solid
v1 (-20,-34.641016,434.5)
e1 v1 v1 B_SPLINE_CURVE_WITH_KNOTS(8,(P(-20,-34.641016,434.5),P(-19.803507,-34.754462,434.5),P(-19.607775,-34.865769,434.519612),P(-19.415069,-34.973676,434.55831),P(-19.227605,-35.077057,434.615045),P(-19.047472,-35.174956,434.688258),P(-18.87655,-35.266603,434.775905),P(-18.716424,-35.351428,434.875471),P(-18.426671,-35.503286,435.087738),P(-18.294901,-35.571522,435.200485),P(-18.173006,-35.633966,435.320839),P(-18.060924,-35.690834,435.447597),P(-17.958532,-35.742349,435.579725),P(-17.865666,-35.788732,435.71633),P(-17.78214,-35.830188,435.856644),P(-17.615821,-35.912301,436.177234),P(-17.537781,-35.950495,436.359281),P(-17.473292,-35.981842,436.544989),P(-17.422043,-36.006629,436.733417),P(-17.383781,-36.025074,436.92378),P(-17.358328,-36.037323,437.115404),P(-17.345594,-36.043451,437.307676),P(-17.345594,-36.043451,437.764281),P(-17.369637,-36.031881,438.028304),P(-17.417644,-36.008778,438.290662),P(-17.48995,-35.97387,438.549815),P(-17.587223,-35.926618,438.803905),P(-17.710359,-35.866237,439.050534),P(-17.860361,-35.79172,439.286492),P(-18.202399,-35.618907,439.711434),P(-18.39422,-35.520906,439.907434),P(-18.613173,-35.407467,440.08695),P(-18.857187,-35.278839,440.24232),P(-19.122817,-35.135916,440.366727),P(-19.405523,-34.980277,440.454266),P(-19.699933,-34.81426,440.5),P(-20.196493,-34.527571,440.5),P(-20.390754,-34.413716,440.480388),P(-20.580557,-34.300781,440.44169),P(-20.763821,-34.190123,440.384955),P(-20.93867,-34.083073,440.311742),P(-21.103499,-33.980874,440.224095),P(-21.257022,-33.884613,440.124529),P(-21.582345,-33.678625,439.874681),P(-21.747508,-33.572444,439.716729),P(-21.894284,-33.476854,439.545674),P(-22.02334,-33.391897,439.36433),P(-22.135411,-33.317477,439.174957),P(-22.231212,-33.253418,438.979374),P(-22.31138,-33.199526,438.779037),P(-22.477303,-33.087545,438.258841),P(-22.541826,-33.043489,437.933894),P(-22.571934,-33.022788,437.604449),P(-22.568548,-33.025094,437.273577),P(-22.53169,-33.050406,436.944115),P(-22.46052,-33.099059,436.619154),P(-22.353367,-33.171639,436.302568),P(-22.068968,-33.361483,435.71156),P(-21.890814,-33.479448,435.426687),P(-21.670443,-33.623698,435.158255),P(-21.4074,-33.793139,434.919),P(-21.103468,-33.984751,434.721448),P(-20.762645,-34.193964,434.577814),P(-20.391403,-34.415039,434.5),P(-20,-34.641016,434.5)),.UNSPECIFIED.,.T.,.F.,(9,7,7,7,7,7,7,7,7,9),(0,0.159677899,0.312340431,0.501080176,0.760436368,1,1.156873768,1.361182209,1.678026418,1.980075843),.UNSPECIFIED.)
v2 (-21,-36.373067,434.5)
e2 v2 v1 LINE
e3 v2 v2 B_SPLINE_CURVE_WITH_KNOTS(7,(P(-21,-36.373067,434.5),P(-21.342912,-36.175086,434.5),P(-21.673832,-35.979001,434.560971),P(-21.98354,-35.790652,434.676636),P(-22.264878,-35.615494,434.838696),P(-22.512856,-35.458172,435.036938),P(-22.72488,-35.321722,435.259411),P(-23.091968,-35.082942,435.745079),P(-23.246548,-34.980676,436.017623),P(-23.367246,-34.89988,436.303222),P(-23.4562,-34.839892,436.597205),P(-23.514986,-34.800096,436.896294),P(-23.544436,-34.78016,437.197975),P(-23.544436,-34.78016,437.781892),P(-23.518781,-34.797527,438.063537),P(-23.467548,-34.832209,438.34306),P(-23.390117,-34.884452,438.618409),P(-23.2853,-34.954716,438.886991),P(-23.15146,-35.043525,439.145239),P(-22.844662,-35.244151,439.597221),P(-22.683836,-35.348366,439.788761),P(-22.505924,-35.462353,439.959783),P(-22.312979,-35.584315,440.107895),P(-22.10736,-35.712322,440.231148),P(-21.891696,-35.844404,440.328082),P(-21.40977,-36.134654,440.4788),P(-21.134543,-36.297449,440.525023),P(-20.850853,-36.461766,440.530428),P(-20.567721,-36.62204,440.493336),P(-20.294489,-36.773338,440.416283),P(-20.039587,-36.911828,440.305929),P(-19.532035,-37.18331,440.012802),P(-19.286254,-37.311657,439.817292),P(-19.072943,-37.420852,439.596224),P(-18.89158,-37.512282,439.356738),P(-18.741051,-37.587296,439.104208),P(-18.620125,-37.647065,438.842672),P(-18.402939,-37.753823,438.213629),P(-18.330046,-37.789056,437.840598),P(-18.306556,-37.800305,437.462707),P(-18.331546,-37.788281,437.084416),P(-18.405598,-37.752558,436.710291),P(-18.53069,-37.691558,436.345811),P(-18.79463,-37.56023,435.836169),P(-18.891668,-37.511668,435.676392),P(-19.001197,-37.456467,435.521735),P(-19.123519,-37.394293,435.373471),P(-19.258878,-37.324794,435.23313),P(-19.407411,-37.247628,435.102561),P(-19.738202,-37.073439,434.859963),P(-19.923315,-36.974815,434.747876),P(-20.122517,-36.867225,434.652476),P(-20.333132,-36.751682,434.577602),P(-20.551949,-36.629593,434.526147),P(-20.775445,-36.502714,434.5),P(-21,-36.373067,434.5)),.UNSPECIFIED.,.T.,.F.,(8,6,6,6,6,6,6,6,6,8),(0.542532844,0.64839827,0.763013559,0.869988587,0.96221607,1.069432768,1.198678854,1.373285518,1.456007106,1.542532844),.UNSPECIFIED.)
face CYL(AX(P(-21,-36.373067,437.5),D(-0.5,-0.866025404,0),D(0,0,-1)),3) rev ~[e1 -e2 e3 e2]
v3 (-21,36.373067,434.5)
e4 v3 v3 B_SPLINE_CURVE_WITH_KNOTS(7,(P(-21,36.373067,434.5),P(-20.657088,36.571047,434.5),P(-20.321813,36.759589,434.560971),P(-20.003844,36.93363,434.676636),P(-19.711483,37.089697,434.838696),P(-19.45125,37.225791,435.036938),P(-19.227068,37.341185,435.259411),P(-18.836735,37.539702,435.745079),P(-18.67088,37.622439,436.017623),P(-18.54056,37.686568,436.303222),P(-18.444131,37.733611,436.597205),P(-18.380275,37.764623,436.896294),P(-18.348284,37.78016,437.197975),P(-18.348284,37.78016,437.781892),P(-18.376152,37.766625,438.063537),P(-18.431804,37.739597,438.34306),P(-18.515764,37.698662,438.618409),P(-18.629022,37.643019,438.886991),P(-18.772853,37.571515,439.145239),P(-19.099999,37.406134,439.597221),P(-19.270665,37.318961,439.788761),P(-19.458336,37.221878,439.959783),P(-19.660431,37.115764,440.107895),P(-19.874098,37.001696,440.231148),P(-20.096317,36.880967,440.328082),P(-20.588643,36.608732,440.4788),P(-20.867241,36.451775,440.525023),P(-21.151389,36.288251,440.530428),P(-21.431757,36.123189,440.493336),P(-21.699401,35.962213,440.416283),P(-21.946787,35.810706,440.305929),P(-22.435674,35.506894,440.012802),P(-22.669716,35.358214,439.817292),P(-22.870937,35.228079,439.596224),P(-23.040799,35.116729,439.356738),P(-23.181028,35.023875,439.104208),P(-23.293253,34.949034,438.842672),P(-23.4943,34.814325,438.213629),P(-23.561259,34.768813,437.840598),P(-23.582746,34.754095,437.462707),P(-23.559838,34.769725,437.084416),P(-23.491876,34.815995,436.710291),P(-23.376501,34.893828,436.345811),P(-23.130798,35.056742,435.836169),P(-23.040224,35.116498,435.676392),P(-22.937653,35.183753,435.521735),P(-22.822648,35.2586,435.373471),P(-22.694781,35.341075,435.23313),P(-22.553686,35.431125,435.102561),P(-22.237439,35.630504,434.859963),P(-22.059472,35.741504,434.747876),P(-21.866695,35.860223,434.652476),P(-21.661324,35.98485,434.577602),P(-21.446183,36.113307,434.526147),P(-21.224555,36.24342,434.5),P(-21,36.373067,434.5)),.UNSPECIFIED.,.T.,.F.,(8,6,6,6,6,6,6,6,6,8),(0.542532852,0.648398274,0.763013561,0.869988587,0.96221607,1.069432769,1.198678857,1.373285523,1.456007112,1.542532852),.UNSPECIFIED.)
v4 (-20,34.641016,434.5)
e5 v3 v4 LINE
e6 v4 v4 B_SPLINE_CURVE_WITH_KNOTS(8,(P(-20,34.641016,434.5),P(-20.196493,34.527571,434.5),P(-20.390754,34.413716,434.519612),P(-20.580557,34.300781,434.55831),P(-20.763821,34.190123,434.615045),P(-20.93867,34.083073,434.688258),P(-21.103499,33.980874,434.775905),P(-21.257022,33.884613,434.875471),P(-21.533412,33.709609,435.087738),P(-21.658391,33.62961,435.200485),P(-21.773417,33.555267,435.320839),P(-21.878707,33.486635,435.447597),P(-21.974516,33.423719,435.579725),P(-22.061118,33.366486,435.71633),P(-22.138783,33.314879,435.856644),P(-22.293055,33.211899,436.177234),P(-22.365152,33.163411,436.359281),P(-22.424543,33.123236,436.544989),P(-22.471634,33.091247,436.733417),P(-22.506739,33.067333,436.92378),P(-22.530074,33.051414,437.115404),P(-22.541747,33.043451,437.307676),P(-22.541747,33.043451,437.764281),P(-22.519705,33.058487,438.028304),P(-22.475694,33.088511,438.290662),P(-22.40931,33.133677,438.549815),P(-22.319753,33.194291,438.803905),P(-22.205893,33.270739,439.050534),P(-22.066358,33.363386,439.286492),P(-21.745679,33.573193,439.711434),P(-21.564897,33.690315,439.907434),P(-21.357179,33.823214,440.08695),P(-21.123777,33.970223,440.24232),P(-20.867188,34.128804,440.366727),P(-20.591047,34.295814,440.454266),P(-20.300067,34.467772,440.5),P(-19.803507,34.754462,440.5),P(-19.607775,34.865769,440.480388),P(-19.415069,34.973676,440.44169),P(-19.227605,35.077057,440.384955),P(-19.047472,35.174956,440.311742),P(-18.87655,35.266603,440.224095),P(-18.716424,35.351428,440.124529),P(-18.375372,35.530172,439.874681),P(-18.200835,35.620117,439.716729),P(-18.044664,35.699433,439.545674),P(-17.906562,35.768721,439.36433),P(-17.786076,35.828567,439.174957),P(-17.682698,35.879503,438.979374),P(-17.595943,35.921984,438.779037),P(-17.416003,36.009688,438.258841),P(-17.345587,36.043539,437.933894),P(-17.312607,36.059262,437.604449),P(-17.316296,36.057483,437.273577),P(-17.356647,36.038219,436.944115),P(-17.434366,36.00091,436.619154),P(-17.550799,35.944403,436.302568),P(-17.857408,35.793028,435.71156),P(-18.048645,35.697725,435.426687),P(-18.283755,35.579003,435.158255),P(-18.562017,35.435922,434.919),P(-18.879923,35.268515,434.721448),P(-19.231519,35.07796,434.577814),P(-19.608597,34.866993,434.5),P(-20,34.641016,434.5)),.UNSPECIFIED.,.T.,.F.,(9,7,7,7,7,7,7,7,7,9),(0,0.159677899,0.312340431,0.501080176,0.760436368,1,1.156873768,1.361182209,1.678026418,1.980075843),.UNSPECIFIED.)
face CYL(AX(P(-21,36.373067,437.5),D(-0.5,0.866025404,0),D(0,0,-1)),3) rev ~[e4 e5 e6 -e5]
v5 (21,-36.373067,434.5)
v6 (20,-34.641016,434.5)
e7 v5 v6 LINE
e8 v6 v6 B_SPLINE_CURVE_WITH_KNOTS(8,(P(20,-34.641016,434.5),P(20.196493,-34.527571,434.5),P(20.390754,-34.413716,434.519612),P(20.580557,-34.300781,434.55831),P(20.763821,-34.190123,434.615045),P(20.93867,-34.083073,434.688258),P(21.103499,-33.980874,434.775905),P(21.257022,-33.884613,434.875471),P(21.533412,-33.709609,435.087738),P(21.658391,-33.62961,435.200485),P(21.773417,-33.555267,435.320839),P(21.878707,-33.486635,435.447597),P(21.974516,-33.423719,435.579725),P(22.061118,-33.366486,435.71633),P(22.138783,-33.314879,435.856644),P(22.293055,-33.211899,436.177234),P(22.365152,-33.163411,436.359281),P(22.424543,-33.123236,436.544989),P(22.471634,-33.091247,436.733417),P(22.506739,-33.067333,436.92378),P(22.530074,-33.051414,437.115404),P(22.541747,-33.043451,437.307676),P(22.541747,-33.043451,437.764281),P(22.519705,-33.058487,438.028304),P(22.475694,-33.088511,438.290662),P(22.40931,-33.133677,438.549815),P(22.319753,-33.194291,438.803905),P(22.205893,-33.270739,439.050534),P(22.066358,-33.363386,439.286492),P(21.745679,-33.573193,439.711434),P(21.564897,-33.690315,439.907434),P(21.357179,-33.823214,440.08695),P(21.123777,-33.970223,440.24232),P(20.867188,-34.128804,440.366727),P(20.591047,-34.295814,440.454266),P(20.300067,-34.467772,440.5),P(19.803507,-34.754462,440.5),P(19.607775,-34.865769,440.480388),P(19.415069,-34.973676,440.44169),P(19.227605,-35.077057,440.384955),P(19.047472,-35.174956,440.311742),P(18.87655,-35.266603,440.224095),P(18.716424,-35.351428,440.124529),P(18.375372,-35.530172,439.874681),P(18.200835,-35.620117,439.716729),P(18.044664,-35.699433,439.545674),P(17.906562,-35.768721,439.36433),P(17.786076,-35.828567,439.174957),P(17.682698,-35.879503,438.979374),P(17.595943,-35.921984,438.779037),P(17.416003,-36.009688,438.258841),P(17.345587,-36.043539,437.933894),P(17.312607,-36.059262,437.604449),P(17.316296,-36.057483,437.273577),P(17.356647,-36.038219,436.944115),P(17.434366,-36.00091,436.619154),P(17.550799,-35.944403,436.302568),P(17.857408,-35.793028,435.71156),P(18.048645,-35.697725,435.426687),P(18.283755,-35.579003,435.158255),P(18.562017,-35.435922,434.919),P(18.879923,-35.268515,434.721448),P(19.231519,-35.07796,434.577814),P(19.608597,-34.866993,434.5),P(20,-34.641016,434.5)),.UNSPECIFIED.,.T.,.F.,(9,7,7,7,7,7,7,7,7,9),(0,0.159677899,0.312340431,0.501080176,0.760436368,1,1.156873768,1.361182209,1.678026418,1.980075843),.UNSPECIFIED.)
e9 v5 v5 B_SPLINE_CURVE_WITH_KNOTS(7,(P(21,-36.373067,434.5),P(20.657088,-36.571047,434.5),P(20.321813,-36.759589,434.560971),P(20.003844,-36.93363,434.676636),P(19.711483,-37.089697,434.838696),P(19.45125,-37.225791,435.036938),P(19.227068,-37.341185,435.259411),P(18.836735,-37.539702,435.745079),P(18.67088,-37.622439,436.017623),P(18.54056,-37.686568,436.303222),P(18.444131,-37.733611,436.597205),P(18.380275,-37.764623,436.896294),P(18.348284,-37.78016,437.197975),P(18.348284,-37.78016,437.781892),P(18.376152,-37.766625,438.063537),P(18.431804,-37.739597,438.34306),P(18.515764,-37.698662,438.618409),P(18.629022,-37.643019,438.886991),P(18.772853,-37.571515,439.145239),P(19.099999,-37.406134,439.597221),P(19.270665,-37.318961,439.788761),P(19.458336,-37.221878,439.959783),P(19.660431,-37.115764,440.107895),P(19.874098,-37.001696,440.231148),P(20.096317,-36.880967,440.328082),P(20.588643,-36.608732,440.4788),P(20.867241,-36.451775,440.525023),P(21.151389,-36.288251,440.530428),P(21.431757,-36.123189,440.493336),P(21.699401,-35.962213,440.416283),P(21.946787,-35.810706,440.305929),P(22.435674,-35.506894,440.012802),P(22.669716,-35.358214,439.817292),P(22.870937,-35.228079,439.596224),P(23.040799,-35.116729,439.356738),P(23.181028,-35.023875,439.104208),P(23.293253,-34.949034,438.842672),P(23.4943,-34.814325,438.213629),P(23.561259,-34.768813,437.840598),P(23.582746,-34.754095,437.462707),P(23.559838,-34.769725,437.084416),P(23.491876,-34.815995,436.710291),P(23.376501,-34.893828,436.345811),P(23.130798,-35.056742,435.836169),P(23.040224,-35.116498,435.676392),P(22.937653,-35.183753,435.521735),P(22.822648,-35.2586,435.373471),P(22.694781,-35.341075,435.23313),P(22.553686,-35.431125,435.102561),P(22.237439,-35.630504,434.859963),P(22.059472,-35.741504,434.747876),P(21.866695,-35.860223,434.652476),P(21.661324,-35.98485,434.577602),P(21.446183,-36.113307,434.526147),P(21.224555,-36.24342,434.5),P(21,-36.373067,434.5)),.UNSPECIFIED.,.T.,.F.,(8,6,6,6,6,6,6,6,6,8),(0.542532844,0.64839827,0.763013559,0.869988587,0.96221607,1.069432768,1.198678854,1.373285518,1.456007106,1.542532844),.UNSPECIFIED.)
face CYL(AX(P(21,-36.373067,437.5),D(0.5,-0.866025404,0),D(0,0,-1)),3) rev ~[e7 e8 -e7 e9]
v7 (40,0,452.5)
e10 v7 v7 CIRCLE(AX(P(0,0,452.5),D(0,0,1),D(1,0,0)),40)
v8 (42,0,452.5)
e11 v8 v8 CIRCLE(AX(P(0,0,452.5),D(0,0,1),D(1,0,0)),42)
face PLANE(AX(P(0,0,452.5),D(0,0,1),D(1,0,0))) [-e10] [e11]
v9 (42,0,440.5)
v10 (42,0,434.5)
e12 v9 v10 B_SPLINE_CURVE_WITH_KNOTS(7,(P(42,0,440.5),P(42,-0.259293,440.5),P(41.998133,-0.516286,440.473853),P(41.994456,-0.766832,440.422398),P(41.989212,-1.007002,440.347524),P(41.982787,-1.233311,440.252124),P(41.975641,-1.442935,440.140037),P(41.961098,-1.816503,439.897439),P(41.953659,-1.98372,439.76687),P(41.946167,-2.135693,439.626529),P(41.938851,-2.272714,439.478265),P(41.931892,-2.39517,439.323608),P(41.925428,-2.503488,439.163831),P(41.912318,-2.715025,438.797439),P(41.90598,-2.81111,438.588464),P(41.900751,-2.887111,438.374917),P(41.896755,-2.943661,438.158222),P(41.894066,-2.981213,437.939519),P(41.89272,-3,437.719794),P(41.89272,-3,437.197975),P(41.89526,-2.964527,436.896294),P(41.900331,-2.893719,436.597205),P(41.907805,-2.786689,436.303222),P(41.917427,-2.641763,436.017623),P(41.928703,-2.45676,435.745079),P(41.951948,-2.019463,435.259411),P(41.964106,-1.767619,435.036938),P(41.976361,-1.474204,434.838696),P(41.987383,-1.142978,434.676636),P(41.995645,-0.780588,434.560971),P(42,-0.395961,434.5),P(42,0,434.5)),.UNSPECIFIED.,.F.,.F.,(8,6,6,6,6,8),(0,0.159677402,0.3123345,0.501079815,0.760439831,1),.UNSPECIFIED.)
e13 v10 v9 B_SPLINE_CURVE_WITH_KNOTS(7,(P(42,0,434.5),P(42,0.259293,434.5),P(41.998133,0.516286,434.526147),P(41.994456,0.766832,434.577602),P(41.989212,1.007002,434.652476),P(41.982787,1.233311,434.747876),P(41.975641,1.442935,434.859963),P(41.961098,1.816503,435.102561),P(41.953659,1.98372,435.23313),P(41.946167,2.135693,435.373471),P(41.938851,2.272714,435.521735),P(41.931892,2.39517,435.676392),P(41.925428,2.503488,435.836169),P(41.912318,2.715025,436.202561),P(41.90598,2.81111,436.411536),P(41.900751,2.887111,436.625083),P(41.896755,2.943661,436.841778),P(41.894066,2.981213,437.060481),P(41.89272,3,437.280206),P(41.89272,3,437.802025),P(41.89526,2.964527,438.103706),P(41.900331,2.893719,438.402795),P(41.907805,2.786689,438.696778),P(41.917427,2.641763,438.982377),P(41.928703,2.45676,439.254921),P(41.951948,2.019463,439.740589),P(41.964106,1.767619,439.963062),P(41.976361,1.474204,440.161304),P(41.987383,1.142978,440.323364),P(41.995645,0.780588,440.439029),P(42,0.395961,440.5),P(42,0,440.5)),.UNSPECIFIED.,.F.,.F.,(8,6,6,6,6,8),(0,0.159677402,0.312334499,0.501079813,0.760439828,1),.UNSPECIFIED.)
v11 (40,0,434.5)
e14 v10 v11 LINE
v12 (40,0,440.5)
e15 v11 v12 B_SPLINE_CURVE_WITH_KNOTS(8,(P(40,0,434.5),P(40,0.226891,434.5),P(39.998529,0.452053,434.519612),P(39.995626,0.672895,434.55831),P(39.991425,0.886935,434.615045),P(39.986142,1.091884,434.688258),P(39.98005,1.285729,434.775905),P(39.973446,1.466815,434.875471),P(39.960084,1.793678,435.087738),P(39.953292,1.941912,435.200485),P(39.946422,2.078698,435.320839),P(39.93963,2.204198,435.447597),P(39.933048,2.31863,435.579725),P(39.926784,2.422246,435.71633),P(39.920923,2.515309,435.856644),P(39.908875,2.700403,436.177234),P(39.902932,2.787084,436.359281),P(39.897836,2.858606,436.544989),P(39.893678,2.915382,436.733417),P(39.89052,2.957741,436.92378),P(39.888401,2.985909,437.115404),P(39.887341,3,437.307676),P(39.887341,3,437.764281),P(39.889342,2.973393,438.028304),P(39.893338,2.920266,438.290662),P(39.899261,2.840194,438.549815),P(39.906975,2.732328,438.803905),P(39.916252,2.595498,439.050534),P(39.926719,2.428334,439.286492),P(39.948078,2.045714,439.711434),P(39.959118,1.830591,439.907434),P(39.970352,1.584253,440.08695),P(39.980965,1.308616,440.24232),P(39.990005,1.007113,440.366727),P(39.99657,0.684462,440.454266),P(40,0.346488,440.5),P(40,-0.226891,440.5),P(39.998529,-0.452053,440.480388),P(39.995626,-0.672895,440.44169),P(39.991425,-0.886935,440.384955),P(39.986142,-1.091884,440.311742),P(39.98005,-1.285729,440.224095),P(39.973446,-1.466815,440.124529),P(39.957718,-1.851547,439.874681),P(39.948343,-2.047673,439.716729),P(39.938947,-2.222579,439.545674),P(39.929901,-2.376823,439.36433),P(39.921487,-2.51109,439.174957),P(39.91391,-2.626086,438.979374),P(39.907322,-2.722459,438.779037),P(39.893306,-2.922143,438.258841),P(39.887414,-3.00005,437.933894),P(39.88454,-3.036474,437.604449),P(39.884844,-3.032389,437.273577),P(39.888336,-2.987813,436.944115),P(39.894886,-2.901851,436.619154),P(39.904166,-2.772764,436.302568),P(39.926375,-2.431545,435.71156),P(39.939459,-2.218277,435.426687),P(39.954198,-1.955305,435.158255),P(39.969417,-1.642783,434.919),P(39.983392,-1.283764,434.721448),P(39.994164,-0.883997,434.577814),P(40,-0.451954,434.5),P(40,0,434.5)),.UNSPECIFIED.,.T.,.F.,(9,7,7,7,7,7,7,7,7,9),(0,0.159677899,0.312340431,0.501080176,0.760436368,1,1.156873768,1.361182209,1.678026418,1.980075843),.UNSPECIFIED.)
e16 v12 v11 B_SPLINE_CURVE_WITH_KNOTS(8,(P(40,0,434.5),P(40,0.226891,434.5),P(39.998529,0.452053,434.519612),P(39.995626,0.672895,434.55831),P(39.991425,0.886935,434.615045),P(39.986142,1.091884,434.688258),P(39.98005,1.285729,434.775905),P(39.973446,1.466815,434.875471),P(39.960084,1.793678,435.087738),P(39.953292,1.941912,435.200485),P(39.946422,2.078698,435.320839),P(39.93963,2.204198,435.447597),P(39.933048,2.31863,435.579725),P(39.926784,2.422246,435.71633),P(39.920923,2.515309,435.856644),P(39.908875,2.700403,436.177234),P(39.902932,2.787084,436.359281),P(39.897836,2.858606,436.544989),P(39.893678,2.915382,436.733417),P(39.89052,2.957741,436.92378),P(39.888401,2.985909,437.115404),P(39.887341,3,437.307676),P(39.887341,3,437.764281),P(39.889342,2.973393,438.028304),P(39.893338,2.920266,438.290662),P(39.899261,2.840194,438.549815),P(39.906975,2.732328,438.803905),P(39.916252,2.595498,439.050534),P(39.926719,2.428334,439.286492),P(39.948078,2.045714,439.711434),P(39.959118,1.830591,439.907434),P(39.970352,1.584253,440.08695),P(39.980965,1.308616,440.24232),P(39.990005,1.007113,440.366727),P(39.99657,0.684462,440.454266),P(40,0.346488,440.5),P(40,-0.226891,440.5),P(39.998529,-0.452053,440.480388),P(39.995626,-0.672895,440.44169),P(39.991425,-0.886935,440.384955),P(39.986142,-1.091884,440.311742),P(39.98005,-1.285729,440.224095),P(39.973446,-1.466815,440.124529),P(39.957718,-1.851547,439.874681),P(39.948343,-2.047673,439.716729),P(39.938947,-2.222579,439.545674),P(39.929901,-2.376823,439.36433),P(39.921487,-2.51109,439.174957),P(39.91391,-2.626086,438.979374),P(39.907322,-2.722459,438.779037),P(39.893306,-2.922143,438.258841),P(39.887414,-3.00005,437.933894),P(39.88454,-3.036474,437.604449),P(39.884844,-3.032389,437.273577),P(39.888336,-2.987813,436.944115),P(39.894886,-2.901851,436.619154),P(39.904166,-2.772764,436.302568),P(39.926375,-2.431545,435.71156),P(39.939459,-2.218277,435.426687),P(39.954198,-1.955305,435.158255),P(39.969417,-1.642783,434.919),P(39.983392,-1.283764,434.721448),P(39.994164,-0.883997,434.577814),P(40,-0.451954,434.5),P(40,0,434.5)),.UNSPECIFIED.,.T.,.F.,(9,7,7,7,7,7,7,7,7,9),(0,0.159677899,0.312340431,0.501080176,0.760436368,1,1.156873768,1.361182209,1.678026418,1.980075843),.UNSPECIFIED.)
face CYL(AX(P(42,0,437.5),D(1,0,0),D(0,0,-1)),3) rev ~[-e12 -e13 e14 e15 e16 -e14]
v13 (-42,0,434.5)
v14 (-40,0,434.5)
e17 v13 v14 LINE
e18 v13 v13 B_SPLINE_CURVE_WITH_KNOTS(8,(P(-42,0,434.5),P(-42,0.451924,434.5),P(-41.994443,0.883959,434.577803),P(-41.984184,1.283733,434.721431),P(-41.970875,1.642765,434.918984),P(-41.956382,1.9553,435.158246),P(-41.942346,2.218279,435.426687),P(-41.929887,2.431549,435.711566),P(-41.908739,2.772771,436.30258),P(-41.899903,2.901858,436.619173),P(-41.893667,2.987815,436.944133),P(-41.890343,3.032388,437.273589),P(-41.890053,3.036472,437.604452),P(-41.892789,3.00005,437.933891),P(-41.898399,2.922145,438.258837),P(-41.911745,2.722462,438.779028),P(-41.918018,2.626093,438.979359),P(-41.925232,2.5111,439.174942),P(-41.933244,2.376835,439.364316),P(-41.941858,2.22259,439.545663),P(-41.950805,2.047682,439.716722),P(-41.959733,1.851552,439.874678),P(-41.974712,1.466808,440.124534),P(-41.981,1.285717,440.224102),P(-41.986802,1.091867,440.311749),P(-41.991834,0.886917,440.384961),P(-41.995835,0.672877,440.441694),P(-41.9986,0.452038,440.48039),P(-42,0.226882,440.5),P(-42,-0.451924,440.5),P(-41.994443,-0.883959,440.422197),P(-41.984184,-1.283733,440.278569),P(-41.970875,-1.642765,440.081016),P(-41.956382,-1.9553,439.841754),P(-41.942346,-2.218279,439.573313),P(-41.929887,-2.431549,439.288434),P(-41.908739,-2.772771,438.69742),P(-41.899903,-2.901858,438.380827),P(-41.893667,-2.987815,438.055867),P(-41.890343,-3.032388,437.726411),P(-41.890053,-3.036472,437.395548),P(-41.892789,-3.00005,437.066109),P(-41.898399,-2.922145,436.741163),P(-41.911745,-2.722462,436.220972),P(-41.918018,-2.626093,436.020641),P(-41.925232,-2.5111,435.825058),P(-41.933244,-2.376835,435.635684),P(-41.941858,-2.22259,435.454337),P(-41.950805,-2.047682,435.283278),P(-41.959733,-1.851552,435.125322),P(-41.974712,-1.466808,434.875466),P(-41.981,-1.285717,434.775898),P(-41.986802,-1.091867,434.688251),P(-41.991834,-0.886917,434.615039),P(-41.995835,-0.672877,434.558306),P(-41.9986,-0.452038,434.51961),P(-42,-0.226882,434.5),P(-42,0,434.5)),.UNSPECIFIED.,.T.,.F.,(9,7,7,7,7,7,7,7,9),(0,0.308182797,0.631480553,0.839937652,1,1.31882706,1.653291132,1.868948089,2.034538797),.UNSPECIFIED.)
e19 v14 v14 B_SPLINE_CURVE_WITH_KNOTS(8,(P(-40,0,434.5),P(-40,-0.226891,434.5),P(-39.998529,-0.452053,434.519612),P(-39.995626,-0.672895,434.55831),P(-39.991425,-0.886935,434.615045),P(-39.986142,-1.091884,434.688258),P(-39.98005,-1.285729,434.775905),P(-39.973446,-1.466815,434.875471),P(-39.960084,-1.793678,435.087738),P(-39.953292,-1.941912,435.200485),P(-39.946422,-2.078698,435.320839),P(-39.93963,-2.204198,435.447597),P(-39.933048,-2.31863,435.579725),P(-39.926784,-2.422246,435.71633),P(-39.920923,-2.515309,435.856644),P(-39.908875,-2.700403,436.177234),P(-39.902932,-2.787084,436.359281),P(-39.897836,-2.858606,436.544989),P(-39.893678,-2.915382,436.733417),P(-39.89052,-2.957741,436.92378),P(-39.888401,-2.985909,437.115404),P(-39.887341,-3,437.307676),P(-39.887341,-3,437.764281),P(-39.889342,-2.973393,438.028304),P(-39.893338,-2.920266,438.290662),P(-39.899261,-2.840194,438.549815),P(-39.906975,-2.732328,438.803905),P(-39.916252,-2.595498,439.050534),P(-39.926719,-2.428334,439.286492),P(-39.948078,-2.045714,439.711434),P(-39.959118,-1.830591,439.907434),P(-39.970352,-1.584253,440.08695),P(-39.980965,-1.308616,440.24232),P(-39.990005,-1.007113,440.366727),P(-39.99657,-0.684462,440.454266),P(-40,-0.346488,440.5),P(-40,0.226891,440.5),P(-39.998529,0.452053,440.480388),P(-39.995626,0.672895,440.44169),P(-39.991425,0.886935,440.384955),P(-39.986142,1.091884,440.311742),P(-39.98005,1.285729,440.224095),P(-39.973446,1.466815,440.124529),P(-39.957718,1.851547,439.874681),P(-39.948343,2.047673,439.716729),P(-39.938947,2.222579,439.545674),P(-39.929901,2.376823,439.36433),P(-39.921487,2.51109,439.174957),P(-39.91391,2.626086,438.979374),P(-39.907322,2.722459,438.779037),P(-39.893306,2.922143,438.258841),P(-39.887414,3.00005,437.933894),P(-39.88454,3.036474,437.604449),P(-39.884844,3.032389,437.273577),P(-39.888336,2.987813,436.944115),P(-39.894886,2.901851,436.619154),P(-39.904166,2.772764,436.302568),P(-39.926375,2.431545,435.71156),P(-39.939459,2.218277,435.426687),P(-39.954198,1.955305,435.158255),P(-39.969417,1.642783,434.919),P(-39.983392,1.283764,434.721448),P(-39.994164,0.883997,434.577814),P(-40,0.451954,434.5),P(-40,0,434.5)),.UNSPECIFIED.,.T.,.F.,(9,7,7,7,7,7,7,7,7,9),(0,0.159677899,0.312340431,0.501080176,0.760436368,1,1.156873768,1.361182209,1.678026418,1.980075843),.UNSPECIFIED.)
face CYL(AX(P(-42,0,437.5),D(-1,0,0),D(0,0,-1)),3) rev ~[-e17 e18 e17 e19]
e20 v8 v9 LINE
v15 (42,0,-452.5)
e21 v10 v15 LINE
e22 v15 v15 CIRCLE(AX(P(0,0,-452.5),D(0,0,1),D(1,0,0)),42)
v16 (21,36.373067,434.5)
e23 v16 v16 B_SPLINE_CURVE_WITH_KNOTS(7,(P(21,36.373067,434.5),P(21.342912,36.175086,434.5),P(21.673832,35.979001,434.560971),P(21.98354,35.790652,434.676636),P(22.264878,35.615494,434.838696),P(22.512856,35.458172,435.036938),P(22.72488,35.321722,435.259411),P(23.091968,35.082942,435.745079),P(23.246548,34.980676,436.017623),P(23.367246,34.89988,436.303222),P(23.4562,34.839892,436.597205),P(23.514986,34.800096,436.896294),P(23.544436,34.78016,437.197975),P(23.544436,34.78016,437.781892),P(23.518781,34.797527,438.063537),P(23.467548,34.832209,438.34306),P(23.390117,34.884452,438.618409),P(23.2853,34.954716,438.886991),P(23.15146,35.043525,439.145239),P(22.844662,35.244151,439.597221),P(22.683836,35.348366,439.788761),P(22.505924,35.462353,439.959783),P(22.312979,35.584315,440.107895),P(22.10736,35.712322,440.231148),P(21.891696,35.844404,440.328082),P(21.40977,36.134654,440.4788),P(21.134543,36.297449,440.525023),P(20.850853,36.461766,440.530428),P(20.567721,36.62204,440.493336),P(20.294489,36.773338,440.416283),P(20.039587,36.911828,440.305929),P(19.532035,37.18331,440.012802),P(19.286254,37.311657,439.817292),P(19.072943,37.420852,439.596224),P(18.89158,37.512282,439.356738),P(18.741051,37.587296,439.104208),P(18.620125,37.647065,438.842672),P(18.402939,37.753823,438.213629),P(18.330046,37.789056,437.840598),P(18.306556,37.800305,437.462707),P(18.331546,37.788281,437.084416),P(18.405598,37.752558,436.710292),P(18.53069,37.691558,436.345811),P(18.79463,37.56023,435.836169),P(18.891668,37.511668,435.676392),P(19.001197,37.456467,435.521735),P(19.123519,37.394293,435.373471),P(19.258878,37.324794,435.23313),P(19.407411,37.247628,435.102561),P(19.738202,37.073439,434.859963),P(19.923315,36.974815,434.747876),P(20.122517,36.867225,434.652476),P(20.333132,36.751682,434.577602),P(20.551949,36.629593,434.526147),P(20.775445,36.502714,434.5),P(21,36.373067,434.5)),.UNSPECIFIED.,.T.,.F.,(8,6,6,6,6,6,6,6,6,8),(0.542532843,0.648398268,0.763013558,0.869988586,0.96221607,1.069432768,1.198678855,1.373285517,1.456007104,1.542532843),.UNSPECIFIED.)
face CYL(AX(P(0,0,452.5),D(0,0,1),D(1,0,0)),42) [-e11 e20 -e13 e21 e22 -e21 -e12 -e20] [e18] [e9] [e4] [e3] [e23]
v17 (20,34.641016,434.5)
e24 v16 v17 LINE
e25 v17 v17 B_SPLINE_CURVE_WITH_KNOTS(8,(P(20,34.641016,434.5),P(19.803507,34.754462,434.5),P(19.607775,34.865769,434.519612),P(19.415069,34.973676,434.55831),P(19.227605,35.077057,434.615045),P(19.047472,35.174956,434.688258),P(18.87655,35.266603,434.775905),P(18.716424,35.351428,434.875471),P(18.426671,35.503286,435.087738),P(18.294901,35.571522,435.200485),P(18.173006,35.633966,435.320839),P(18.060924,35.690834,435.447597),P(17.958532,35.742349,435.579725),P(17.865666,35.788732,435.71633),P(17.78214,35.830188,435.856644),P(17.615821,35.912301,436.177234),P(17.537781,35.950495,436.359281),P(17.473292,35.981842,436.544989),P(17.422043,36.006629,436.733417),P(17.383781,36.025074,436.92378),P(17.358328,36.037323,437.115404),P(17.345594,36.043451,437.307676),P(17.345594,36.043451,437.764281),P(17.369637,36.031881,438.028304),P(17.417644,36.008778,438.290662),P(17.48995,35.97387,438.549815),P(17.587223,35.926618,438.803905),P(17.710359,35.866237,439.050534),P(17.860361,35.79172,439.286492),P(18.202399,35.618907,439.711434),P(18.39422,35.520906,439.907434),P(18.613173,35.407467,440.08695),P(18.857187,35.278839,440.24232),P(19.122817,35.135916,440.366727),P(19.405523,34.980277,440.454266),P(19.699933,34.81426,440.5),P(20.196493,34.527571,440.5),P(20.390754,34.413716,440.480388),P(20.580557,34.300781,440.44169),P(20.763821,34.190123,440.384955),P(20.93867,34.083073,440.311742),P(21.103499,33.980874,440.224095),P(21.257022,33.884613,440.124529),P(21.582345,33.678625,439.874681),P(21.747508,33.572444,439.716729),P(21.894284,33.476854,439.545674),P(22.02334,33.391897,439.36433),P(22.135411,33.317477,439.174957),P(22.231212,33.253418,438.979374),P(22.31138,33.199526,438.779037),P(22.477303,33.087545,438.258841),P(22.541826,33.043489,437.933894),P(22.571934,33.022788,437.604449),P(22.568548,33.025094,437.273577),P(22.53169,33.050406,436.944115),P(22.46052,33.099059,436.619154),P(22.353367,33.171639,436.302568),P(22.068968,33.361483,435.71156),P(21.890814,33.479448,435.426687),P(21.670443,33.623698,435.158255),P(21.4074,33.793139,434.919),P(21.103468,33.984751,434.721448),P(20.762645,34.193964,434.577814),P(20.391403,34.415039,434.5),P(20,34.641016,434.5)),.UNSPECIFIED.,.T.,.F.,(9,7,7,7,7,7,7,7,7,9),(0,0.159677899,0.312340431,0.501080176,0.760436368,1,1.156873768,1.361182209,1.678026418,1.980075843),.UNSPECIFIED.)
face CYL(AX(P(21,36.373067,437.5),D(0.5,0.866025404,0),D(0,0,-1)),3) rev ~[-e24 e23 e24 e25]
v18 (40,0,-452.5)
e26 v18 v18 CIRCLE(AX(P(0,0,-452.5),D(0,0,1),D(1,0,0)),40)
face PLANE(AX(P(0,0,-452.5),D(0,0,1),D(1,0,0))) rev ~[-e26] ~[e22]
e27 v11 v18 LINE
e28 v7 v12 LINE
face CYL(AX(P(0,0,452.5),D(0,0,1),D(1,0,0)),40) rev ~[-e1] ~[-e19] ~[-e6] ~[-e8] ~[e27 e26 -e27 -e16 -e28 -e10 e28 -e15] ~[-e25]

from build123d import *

# Parameters (mm, degrees)
SKETCH3_R               = 42
SKETCH3_R_2             = 40
BOSS_EXTRUDE1_DEPTH     = 905
CUT_EXTRUDE1_REACH      = 464.143
CUT_EXTRUDE1_END_RADIUS = 40
SKETCH4_R               = 3
CIRPATTERN1_COUNT       = 6


with BuildPart() as part:
    # Sketch3 → Boss-Extrude1 (new body)
    with BuildSketch(Plane.XY.offset(452.5)):
        Circle(SKETCH3_R)
        Circle(SKETCH3_R_2, mode=Mode.SUBTRACT)
    extrude(amount=-BOSS_EXTRUDE1_DEPTH)

    # Cut-Extrude1: up to this cylinder (the profile starts outside it)
    cut_extrude1_end = Plane(origin=(0, 0, 437.5), z_dir=(0, 0, 1)) * Cylinder(CUT_EXTRUDE1_END_RADIUS, 1009.286, mode=Mode.PRIVATE)
    # Sketch4 → Cut-Extrude1 (cut, up to the surface)
    with BuildSketch(Plane(origin=(42, 0, 0), x_dir=(0, 0, -1), z_dir=(1, 0, 0)), mode=Mode.PRIVATE) as cut_extrude1_sk1:
        with Locations((-437.5, 0)):
            Circle(SKETCH4_R)
    cut_extrude1_tool1 = extrude(cut_extrude1_sk1.sketch, amount=-CUT_EXTRUDE1_REACH, mode=Mode.PRIVATE) - cut_extrude1_end
    cut_extrude1 = cut_extrude1_tool1.solids().sort_by_distance((42, 0, 437.5))[0]
    add(cut_extrude1, mode=Mode.SUBTRACT)

    # CirPattern1: Cut-Extrude1 ×6 about axis
    cirpattern1_axis = Axis((0, 0, 452.5), (0, 0, 1))
    for i in range(1, CIRPATTERN1_COUNT):
        add(cut_extrude1.rotate(cirpattern1_axis, i * 360 / CIRPATTERN1_COUNT), mode=Mode.SUBTRACT)


solid = part.part
